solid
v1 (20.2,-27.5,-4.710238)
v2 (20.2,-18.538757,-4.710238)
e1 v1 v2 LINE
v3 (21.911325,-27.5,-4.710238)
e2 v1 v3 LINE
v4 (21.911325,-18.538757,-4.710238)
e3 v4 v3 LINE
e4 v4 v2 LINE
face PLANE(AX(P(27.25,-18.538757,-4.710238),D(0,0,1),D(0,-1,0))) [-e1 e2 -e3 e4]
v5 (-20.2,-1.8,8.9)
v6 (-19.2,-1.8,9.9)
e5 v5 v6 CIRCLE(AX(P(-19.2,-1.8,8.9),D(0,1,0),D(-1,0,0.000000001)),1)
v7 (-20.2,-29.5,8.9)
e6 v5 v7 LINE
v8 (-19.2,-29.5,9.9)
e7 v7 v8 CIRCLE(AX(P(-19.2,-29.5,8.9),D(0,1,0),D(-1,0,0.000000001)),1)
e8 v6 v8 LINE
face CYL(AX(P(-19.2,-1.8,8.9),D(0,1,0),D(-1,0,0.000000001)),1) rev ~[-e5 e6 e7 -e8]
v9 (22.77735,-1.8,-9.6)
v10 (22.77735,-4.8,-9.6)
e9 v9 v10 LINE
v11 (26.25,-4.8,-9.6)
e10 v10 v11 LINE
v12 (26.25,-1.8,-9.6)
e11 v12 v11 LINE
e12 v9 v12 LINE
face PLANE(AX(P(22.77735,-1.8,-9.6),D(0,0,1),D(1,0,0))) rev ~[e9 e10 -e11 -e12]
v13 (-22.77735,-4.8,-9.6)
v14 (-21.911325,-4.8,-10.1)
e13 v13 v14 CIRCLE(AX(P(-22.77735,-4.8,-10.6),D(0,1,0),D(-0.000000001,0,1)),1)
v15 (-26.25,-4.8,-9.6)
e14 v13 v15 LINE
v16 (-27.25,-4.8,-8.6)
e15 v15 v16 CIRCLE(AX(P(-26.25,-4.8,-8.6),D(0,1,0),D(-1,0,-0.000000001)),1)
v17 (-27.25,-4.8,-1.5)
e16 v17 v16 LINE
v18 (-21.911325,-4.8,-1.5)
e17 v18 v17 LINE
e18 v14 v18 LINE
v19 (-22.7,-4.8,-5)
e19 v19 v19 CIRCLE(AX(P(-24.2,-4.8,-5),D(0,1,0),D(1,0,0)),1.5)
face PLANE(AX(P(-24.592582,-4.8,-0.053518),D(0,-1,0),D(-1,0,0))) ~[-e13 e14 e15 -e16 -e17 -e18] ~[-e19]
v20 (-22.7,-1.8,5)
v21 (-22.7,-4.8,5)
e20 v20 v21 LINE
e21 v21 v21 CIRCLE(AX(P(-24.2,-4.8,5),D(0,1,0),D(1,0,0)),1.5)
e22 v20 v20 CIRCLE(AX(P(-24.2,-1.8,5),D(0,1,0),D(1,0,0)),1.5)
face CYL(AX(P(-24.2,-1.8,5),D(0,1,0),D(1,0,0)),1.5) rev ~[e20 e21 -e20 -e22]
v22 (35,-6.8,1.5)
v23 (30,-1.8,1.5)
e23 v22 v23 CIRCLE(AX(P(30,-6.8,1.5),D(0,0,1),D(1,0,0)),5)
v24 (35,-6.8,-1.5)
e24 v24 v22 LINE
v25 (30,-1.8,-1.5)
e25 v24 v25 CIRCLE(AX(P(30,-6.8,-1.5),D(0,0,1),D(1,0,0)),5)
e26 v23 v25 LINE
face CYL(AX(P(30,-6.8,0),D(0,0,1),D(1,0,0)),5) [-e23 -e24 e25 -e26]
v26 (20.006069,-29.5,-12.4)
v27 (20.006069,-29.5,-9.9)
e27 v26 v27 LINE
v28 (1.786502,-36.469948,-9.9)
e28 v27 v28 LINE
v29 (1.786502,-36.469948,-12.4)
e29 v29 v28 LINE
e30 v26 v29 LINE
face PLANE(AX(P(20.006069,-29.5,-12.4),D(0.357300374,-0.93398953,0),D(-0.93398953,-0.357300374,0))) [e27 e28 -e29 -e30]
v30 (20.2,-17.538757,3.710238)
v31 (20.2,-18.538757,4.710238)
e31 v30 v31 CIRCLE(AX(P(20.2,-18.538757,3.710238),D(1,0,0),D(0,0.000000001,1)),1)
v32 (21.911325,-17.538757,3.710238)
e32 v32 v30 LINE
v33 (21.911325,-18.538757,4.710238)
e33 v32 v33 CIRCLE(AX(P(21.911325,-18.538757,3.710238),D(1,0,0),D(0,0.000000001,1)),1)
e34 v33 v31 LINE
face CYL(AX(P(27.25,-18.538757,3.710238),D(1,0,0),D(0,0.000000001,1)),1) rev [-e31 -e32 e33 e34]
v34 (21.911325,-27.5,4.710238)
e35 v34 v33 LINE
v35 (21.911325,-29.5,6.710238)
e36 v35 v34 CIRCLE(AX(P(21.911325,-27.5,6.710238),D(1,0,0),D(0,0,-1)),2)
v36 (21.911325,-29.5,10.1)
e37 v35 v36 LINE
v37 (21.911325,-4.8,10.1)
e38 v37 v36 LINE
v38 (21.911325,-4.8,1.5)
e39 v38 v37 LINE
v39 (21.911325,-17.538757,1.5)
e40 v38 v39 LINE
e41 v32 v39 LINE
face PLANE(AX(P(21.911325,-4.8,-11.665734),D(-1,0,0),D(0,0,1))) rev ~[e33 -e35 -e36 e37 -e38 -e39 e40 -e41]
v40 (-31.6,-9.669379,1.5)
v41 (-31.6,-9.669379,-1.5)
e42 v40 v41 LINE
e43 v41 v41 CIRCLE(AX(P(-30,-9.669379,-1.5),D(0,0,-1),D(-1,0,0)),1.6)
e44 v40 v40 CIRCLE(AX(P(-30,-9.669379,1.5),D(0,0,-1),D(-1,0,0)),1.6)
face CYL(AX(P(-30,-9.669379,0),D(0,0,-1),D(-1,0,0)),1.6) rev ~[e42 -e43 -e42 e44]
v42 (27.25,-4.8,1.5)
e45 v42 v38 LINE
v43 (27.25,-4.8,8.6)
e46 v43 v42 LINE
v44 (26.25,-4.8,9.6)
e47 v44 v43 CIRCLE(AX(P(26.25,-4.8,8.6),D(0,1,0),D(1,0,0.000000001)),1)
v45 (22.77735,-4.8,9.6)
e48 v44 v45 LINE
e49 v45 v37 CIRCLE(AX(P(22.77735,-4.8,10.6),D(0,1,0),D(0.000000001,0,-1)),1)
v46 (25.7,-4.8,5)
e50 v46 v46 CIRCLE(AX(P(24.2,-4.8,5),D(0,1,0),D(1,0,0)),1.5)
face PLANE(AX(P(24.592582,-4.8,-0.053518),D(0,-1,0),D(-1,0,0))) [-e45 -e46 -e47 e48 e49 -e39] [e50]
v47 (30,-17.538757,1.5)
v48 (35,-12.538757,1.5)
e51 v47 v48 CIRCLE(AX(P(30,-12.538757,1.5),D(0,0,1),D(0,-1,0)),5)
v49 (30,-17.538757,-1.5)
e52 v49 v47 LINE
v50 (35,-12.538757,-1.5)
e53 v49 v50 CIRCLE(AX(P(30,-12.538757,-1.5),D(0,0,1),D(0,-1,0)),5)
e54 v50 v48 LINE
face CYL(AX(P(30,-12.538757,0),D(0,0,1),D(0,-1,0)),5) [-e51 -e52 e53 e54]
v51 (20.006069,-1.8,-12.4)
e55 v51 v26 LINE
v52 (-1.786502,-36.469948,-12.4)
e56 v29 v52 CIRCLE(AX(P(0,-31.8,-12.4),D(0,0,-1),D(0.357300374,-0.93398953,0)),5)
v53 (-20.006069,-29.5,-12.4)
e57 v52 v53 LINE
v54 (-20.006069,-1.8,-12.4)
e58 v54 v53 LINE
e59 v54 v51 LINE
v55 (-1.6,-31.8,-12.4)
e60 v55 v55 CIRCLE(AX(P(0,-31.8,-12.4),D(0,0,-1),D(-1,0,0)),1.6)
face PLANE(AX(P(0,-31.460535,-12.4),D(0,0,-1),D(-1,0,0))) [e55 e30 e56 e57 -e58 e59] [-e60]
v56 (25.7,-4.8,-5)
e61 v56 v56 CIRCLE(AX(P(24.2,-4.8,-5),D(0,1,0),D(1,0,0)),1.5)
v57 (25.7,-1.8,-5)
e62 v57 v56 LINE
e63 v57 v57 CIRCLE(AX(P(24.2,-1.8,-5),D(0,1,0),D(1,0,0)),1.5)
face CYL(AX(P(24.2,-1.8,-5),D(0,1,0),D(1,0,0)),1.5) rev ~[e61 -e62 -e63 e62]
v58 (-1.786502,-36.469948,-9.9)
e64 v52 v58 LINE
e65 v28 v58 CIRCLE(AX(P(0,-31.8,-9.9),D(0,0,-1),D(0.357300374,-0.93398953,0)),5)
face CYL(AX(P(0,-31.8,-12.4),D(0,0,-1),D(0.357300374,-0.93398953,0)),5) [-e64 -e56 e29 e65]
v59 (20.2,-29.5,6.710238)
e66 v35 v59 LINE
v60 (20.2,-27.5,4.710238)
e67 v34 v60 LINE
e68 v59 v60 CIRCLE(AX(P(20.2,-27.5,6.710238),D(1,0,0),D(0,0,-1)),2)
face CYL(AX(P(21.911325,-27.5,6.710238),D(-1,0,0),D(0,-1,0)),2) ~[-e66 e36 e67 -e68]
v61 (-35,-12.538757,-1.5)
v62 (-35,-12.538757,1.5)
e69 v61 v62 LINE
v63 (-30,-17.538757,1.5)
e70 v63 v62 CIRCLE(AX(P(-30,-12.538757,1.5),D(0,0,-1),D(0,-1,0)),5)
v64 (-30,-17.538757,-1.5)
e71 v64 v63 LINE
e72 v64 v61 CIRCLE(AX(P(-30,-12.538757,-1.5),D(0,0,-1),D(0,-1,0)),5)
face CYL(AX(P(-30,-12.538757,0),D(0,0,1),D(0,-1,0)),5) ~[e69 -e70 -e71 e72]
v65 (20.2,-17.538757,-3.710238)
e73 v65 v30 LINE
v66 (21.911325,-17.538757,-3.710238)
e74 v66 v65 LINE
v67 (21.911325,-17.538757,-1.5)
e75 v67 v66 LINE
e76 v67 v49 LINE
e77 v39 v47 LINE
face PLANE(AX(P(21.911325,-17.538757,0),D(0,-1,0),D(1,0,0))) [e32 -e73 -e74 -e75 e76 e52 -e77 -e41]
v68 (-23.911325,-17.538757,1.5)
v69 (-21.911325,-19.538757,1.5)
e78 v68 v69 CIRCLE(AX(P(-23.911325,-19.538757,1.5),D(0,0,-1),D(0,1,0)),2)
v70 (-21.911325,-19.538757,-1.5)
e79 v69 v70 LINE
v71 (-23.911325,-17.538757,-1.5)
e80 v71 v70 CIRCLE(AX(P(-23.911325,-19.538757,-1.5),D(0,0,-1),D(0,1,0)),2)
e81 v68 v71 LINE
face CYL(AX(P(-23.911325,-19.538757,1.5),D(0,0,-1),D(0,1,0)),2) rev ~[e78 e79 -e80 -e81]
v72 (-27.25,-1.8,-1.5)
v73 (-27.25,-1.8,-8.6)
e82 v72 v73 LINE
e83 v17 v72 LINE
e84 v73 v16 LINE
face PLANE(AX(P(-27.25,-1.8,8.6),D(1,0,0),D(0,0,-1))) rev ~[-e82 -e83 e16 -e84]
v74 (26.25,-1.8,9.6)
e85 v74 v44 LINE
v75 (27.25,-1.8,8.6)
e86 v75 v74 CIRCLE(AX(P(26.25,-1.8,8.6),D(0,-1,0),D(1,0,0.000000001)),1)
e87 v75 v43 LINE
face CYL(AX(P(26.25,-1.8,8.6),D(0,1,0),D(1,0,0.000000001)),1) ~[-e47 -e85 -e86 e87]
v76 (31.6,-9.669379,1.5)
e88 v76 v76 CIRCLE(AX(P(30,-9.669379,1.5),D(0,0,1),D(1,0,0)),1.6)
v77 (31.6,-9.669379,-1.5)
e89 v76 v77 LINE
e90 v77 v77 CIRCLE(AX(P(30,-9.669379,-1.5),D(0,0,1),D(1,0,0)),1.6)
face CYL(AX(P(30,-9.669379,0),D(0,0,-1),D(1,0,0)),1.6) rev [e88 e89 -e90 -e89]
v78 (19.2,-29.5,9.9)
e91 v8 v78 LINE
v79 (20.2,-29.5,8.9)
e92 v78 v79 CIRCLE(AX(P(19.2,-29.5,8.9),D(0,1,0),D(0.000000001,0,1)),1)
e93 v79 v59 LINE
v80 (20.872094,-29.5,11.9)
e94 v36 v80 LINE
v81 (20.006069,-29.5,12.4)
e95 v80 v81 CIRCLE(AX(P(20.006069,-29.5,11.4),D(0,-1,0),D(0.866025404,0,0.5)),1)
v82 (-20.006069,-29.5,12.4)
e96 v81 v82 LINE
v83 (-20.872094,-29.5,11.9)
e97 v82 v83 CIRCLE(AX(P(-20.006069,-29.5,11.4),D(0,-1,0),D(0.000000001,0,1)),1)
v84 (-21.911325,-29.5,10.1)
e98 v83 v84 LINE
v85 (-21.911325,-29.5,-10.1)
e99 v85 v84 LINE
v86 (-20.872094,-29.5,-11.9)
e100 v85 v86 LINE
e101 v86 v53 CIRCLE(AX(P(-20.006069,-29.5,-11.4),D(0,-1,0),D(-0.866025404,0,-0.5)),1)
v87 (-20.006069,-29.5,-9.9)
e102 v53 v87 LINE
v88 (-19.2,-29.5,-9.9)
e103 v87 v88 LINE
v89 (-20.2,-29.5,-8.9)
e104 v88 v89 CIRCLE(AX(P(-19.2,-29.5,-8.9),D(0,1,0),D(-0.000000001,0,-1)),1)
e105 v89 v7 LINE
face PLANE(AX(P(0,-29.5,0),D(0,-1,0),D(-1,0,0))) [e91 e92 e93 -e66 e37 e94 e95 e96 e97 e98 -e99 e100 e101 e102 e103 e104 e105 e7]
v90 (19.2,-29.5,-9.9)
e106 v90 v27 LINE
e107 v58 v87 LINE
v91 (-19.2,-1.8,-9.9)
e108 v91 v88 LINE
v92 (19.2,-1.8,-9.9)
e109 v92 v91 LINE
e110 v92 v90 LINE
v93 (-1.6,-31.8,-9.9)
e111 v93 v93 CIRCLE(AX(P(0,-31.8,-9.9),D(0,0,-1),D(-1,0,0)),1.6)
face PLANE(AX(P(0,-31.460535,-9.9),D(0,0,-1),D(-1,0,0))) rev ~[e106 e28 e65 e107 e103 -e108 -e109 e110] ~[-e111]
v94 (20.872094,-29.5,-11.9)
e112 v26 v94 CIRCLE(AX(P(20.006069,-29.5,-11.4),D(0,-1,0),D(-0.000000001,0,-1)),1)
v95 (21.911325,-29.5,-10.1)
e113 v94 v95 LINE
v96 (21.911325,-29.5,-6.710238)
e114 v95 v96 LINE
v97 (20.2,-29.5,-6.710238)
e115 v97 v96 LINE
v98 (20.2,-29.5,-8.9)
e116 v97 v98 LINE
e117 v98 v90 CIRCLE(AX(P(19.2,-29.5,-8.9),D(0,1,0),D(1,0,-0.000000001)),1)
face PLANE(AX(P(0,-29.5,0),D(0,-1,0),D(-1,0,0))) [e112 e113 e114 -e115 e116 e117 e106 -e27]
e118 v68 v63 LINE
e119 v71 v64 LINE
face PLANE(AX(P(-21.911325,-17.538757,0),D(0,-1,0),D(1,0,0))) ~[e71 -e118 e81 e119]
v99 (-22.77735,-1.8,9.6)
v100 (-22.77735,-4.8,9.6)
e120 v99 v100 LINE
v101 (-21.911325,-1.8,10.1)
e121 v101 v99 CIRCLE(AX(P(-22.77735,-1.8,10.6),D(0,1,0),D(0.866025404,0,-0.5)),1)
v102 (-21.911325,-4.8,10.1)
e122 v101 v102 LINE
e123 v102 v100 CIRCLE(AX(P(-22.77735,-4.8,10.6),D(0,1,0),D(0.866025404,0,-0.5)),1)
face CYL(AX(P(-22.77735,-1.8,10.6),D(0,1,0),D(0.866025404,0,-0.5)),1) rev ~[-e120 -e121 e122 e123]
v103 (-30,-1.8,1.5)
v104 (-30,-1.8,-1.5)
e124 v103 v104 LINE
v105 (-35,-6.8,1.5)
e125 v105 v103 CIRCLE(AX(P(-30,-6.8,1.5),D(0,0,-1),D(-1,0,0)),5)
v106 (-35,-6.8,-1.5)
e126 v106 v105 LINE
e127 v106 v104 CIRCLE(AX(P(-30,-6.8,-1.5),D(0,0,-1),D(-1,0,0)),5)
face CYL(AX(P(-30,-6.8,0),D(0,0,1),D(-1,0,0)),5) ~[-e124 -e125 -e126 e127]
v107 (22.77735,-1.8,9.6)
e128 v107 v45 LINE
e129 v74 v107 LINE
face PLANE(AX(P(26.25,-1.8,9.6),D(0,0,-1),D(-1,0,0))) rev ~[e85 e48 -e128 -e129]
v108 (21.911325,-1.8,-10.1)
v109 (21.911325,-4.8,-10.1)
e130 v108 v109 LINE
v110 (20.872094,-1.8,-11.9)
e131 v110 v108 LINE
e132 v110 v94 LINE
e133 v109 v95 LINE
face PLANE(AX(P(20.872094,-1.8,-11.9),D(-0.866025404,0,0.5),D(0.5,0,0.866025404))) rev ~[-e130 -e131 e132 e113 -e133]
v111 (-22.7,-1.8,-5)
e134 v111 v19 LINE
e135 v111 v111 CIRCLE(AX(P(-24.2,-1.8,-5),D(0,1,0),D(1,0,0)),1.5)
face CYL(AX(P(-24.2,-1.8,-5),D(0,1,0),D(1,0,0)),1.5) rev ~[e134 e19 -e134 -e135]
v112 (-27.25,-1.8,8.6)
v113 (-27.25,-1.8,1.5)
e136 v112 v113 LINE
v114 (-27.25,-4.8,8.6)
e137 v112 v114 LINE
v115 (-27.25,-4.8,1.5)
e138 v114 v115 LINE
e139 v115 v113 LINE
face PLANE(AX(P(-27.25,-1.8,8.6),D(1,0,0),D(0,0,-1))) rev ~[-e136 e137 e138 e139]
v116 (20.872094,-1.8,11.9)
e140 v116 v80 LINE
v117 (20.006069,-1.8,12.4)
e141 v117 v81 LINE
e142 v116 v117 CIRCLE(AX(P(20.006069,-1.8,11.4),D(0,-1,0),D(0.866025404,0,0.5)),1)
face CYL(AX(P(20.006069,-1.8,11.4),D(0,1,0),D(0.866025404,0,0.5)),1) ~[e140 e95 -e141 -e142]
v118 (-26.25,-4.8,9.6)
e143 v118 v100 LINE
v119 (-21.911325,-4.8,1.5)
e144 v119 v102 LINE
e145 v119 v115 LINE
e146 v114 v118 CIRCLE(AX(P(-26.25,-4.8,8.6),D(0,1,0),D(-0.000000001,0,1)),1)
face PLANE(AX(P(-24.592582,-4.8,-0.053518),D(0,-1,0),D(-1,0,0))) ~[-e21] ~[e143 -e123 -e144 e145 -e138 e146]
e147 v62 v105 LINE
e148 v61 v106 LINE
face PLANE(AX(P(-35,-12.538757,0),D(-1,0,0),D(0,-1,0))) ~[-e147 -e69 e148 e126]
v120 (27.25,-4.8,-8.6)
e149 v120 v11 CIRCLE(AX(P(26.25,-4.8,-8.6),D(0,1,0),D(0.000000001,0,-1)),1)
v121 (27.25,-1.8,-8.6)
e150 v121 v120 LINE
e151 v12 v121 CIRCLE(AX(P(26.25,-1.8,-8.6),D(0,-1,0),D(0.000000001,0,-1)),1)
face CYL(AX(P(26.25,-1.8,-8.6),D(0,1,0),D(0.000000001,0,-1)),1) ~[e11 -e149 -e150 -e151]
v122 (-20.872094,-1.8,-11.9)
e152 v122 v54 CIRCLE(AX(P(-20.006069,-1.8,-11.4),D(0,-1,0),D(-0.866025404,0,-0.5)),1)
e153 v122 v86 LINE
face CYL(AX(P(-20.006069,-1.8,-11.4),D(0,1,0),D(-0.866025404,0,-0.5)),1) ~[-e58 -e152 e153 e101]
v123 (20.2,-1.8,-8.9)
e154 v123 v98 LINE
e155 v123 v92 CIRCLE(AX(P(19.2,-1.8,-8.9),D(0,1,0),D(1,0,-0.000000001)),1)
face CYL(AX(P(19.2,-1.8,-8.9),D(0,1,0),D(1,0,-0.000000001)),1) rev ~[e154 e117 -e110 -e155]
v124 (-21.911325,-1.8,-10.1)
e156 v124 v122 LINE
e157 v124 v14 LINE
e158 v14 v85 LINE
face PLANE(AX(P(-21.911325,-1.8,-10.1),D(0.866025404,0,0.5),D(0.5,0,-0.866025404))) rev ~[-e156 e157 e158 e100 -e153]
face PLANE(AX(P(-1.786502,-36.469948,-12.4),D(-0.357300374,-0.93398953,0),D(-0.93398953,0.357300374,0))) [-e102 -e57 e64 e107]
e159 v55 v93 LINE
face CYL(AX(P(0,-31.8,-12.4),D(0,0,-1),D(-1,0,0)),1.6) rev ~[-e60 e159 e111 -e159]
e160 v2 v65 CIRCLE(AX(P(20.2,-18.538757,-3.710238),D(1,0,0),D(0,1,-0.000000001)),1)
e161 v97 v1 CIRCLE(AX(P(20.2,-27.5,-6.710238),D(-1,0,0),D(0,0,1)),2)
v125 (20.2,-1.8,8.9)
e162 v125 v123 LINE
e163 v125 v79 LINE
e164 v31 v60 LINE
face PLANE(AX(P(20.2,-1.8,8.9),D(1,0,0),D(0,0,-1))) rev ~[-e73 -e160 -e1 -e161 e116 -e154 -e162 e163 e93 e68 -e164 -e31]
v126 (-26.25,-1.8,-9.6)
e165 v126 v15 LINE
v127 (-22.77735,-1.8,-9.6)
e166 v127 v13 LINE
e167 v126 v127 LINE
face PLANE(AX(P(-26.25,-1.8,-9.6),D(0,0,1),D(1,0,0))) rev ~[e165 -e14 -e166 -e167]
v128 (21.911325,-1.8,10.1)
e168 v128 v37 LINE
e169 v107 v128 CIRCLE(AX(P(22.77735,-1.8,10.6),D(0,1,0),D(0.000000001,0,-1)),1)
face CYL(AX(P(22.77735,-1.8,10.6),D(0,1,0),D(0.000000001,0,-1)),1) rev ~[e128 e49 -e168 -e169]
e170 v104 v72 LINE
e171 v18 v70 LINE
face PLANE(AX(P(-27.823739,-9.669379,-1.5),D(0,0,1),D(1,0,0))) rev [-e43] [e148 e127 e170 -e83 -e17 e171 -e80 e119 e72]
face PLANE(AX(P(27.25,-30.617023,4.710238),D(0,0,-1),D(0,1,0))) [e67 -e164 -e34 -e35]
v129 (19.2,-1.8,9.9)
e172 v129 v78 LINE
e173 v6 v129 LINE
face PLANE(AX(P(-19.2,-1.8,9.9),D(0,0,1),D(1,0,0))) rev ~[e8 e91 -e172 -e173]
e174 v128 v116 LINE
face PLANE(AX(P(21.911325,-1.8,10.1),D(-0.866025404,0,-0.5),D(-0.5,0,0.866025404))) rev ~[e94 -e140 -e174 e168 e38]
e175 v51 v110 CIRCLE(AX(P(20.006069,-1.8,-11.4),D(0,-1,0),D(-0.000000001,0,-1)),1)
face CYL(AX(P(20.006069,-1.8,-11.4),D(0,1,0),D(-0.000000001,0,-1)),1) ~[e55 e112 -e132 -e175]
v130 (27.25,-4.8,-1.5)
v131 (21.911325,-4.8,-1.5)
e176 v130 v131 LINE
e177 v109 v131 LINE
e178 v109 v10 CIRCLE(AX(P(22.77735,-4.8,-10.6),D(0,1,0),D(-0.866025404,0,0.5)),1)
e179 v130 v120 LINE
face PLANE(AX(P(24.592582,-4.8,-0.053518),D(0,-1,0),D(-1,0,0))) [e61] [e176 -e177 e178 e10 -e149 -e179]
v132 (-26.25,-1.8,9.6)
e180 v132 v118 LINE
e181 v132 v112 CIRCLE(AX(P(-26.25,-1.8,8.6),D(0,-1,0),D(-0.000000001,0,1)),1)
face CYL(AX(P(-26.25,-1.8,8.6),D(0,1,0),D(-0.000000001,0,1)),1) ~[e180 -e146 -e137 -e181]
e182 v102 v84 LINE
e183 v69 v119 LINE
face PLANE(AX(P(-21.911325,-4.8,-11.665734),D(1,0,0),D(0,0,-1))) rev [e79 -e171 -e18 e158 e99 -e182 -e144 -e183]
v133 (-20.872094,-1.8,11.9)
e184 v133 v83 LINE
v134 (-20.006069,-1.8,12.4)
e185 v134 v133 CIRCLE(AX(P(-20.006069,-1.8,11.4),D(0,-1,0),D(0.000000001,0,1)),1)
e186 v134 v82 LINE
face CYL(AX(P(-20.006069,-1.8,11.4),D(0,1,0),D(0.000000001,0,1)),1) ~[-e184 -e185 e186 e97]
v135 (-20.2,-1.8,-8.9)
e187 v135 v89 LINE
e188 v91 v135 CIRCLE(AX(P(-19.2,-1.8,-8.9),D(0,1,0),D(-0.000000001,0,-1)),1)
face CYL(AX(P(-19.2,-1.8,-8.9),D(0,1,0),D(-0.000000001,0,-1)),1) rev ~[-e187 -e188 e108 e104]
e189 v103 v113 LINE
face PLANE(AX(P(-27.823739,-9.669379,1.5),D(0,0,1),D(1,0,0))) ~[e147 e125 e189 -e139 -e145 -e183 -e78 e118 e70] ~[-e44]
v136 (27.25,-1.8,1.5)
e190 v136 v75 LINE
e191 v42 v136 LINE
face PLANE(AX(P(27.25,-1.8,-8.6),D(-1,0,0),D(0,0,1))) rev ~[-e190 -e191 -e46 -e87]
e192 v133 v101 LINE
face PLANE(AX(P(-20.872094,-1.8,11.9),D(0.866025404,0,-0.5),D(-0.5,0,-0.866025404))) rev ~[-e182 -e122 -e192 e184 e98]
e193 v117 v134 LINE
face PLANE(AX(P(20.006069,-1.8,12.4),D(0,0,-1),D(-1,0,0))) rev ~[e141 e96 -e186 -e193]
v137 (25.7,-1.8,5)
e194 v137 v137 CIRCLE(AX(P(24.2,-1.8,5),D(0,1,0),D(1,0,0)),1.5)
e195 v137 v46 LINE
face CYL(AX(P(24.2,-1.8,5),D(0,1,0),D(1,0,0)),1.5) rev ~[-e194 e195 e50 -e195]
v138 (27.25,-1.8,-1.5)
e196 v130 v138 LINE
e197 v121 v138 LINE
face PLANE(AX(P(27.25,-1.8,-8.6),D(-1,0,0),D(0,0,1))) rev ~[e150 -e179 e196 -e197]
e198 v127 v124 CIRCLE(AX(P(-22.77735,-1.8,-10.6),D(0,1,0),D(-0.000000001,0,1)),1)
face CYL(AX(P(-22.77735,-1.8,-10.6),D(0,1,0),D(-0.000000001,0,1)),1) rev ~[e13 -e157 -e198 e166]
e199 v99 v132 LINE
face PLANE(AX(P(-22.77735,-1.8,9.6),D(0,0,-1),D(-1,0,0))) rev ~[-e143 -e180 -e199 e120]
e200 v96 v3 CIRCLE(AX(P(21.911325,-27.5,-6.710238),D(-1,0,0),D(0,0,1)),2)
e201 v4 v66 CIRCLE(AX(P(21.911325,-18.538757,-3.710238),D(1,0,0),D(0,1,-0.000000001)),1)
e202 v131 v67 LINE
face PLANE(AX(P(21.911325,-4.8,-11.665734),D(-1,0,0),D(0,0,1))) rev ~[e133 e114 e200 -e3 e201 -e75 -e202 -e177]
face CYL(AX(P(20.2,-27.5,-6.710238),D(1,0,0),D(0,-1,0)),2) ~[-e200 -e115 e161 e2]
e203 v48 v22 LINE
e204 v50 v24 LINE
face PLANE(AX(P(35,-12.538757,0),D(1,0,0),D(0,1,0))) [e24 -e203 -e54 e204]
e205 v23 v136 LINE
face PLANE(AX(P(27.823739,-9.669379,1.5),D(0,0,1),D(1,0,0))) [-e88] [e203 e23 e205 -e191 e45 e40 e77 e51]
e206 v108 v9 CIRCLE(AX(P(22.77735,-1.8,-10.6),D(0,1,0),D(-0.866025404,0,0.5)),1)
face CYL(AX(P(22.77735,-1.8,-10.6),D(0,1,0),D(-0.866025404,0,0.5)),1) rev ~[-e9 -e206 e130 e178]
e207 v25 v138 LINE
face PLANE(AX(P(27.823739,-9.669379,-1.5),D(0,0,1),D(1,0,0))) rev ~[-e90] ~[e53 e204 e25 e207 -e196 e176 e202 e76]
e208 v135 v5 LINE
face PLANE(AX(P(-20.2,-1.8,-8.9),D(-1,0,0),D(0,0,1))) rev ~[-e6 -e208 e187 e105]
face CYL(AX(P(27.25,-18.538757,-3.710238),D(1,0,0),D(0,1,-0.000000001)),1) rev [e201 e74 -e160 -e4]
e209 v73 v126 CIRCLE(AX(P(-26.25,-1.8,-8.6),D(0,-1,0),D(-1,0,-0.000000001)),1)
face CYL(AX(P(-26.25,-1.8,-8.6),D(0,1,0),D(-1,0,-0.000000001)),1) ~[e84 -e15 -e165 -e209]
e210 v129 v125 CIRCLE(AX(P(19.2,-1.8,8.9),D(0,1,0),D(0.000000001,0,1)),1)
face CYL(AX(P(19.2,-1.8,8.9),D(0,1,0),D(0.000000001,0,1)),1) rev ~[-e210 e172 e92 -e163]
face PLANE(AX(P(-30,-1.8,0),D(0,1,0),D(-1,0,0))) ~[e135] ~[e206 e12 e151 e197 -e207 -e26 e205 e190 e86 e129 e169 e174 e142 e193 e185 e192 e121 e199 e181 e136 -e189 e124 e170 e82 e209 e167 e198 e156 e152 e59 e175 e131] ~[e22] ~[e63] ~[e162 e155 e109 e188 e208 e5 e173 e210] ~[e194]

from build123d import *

# Parameters (mm, degrees)
SCHIZZO3_R                   = 1.5
ESTRUSIONE_ESTRUSIONE2_DEPTH = 27.7
TAGLIO_ESTRUSIONE1_REACH     = 56.5
TAGLIO_ESTRUSIONE2_START     = -3
TAGLIO_ESTRUSIONE2_DEPTH     = 24.7
RACCORDO1_R                  = 2
SCHIZZO6_R                   = 1.6
ESTRUSIONE_ESTRUSIONE3_DEPTH = 1.5
SCHIZZO8_R                   = 1.6
ESTRUSIONE_ESTRUSIONE4_DEPTH = 2.5
RACCORDO2_R                  = 2


with BuildPart() as part:
    # Schizzo3 → Estrusione-Estrusione2 (new body)
    with BuildSketch(Plane(origin=(0, -1.8, 0), x_dir=(1, 0, 0), z_dir=(0, 1, 0))):
        with BuildLine():
            Line((27.25, -1.6), (27.25, -8.6))
            ThreePointArc((27.25, -8.6), (26.957106781, -9.307106781), (26.25, -9.6))
            Line((26.25, -9.6), (22.777350269, -9.6))
            ThreePointArc((22.777350269, -9.6), (22.277350269, -9.733974596), (21.911324865, -10.1))
            Line((21.911324865, -10.1), (20.872094381, -11.9))
            ThreePointArc((20.872094381, -11.9), (20.506068977, -12.266025404), (20.006068977, -12.4))
            Line((20.006068977, -12.4), (-20.006068977, -12.4))
            ThreePointArc((-20.006068977, -12.4), (-20.506068977, -12.266025404), (-20.872094381, -11.9))
            Line((-20.872094381, -11.9), (-21.911324865, -10.1))
            ThreePointArc((-21.911324865, -10.1), (-22.277350269, -9.733974596), (-22.777350269, -9.6))
            Line((-22.777350269, -9.6), (-26.25, -9.6))
            ThreePointArc((-26.25, -9.6), (-26.957106781, -9.307106781), (-27.25, -8.6))
            Line((-27.25, -8.6), (-27.25, -1.6))
            Line((-27.25, -1.6), (-27.25, 1.6))
            Line((-27.25, 1.6), (-27.25, 8.6))
            ThreePointArc((-27.25, 8.6), (-26.957106781, 9.307106781), (-26.25, 9.6))
            Line((-26.25, 9.6), (-22.777350269, 9.6))
            ThreePointArc((-22.777350269, 9.6), (-22.277350269, 9.733974596), (-21.911324865, 10.1))
            Line((-21.911324865, 10.1), (-20.872094381, 11.9))
            ThreePointArc((-20.872094381, 11.9), (-20.506068977, 12.266025404), (-20.006068977, 12.4))
            Line((-20.006068977, 12.4), (20.006068977, 12.4))
            ThreePointArc((20.006068977, 12.4), (20.506068977, 12.266025404), (20.872094381, 11.9))
            Line((20.872094381, 11.9), (21.911324865, 10.1))
            ThreePointArc((21.911324865, 10.1), (22.277350269, 9.733974596), (22.777350269, 9.6))
            Line((22.777350269, 9.6), (26.25, 9.6))
            ThreePointArc((26.25, 9.6), (26.957106781, 9.307106781), (27.25, 8.6))
            Line((27.25, 8.6), (27.25, 1.6))
            Line((27.25, 1.6), (27.25, -1.6))
        make_face()
        with Locations((24.2, -5)):
            Circle(SCHIZZO3_R, mode=Mode.SUBTRACT)
        with Locations((24.2, 5)):
            Circle(SCHIZZO3_R, mode=Mode.SUBTRACT)
        with Locations((-24.2, 5)):
            Circle(SCHIZZO3_R, mode=Mode.SUBTRACT)
        with Locations((-24.2, -5)):
            Circle(SCHIZZO3_R, mode=Mode.SUBTRACT)
        with BuildLine():
            Line((-19.2, -9.9), (19.2, -9.9))
            ThreePointArc((19.2, -9.9), (19.907106781, -9.607106781), (20.2, -8.9))
            Line((20.2, -8.9), (20.2, 8.9))
            ThreePointArc((20.2, 8.9), (19.907106781, 9.607106781), (19.2, 9.9))
            Line((19.2, 9.9), (-19.2, 9.9))
            ThreePointArc((-19.2, 9.9), (-19.907106781, 9.607106781), (-20.2, 8.9))
            Line((-20.2, 8.9), (-20.2, -8.9))
            ThreePointArc((-20.2, -8.9), (-19.907106781, -9.607106781), (-19.2, -9.9))
        make_face(mode=Mode.SUBTRACT)
    extrude(amount=-ESTRUSIONE_ESTRUSIONE2_DEPTH)

    # Schizzo4 → Taglio-Estrusione1 (cut, up to next)
    with BuildSketch(Plane(origin=(27.25, 0, 0), x_dir=(0, 0, -1), z_dir=(1, 0, 0)), mode=Mode.PRIVATE) as taglio_estrusione1_sk1:
        with BuildLine():
            Line((-3.710237866, -17.5387571), (3.710237866, -17.5387571))
            ThreePointArc((3.710237866, -17.5387571), (4.417344647, -17.831650319), (4.710237866, -18.5387571))
            Line((4.710237866, -18.5387571), (4.710237866, -30.61702325))
            ThreePointArc((4.710237866, -30.61702325), (4.417344647, -31.324130031), (3.710237866, -31.61702325))
            Line((3.710237866, -31.61702325), (-3.710237866, -31.61702325))
            ThreePointArc((-3.710237866, -31.61702325), (-4.417344647, -31.324130031), (-4.710237866, -30.61702325))
            Line((-4.710237866, -30.61702325), (-4.710237866, -18.5387571))
            ThreePointArc((-4.710237866, -18.5387571), (-4.417344647, -17.831650319), (-3.710237866, -17.5387571))
        make_face()
    taglio_estrusione1_tool1 = extrude(taglio_estrusione1_sk1.sketch, amount=-TAGLIO_ESTRUSIONE1_REACH, mode=Mode.PRIVATE) & part.part
    add(taglio_estrusione1_tool1.solids().sort_by_distance((27.25, -24.57789, 0))[0], mode=Mode.SUBTRACT)

    # Schizzo5 → Taglio-Estrusione2 (cut)
    with BuildSketch(Plane(origin=(0, -1.8, 0), x_dir=(1, 0, 0), z_dir=(0, 1, 0)).offset(TAGLIO_ESTRUSIONE2_START)):
        Polygon((27.25, 8.6), (27.25, -8.6), (27.507432363, -11.370727038), (21.911324865, -11.370727038), (21.911324865, -9.6), (21.911324865, 9.6), (21.911324865, 11.665734377), (27.25, 11.503675338), align=None)
    taglio_estrusione2 = extrude(amount=-TAGLIO_ESTRUSIONE2_DEPTH, mode=Mode.SUBTRACT)

    # Specchia1: Taglio-Estrusione2 across plane
    add(taglio_estrusione2.mirror(Plane(origin=(0, 0, 0), x_dir=(0, 0, 1), z_dir=(1, 0, 0))), mode=Mode.SUBTRACT)

    # Raccordo1
    raccordo1_edges = [part.edges().sort_by_distance(p)[0] for p in [
        (21.055662433, -29.5, -4.710237866),
        (21.055662433, -29.5, 4.710237866),
    ]]
    fillet(raccordo1_edges, radius=RACCORDO1_R)

    # Schizzo6 → Estrusione-Estrusione3 (add, symmetric)
    with BuildSketch(Plane.XY):
        with BuildLine():
            Line((21.911324865, -17.5387571), (30, -17.5387571))
            ThreePointArc((30, -17.5387571), (33.535533906, -16.074291006), (35, -12.5387571))
            Line((35, -12.5387571), (35, -6.8))
            ThreePointArc((35, -6.8), (33.535533906, -3.264466094), (30, -1.8))
            Line((30, -1.8), (21.911324865, -1.8))
            Line((21.911324865, -1.8), (21.911324865, -17.5387571))
        make_face()
        with Locations((30, -9.66937855)):
            Circle(SCHIZZO6_R, mode=Mode.SUBTRACT)
    estrusione_estrusione3 = extrude(amount=ESTRUSIONE_ESTRUSIONE3_DEPTH, both=True)

    # Schizzo8 → Estrusione-Estrusione4 (add)
    with BuildSketch(Plane(origin=(0, 0, -12.4), x_dir=(-1, 0, 0), z_dir=(0, 0, -1))):
        with BuildLine():
            Line((-20.006068977, -29.5), (-1.786501868, -36.469947652))
            ThreePointArc((-1.786501868, -36.469947652), (0, -36.8), (1.786501868, -36.469947652))
            Line((1.786501868, -36.469947652), (20.006068977, -29.5))
            Line((20.006068977, -29.5), (-20.006068977, -29.5))
        make_face()
        with Locations((0, -31.8)):
            Circle(SCHIZZO8_R, mode=Mode.SUBTRACT)
    extrude(amount=-ESTRUSIONE_ESTRUSIONE4_DEPTH)

    # Specchia2: Estrusione-Estrusione3 across plane
    add(estrusione_estrusione3.mirror(Plane(origin=(0, 0, 0), x_dir=(0, 0, 1), z_dir=(1, 0, 0))))

    # Raccordo2
    raccordo2_edges = [part.edges().sort_by_distance(p)[0] for p in [
        (-21.911324865, -17.5387571, 0),
    ]]
    fillet(raccordo2_edges, radius=RACCORDO2_R)


solid = part.part
